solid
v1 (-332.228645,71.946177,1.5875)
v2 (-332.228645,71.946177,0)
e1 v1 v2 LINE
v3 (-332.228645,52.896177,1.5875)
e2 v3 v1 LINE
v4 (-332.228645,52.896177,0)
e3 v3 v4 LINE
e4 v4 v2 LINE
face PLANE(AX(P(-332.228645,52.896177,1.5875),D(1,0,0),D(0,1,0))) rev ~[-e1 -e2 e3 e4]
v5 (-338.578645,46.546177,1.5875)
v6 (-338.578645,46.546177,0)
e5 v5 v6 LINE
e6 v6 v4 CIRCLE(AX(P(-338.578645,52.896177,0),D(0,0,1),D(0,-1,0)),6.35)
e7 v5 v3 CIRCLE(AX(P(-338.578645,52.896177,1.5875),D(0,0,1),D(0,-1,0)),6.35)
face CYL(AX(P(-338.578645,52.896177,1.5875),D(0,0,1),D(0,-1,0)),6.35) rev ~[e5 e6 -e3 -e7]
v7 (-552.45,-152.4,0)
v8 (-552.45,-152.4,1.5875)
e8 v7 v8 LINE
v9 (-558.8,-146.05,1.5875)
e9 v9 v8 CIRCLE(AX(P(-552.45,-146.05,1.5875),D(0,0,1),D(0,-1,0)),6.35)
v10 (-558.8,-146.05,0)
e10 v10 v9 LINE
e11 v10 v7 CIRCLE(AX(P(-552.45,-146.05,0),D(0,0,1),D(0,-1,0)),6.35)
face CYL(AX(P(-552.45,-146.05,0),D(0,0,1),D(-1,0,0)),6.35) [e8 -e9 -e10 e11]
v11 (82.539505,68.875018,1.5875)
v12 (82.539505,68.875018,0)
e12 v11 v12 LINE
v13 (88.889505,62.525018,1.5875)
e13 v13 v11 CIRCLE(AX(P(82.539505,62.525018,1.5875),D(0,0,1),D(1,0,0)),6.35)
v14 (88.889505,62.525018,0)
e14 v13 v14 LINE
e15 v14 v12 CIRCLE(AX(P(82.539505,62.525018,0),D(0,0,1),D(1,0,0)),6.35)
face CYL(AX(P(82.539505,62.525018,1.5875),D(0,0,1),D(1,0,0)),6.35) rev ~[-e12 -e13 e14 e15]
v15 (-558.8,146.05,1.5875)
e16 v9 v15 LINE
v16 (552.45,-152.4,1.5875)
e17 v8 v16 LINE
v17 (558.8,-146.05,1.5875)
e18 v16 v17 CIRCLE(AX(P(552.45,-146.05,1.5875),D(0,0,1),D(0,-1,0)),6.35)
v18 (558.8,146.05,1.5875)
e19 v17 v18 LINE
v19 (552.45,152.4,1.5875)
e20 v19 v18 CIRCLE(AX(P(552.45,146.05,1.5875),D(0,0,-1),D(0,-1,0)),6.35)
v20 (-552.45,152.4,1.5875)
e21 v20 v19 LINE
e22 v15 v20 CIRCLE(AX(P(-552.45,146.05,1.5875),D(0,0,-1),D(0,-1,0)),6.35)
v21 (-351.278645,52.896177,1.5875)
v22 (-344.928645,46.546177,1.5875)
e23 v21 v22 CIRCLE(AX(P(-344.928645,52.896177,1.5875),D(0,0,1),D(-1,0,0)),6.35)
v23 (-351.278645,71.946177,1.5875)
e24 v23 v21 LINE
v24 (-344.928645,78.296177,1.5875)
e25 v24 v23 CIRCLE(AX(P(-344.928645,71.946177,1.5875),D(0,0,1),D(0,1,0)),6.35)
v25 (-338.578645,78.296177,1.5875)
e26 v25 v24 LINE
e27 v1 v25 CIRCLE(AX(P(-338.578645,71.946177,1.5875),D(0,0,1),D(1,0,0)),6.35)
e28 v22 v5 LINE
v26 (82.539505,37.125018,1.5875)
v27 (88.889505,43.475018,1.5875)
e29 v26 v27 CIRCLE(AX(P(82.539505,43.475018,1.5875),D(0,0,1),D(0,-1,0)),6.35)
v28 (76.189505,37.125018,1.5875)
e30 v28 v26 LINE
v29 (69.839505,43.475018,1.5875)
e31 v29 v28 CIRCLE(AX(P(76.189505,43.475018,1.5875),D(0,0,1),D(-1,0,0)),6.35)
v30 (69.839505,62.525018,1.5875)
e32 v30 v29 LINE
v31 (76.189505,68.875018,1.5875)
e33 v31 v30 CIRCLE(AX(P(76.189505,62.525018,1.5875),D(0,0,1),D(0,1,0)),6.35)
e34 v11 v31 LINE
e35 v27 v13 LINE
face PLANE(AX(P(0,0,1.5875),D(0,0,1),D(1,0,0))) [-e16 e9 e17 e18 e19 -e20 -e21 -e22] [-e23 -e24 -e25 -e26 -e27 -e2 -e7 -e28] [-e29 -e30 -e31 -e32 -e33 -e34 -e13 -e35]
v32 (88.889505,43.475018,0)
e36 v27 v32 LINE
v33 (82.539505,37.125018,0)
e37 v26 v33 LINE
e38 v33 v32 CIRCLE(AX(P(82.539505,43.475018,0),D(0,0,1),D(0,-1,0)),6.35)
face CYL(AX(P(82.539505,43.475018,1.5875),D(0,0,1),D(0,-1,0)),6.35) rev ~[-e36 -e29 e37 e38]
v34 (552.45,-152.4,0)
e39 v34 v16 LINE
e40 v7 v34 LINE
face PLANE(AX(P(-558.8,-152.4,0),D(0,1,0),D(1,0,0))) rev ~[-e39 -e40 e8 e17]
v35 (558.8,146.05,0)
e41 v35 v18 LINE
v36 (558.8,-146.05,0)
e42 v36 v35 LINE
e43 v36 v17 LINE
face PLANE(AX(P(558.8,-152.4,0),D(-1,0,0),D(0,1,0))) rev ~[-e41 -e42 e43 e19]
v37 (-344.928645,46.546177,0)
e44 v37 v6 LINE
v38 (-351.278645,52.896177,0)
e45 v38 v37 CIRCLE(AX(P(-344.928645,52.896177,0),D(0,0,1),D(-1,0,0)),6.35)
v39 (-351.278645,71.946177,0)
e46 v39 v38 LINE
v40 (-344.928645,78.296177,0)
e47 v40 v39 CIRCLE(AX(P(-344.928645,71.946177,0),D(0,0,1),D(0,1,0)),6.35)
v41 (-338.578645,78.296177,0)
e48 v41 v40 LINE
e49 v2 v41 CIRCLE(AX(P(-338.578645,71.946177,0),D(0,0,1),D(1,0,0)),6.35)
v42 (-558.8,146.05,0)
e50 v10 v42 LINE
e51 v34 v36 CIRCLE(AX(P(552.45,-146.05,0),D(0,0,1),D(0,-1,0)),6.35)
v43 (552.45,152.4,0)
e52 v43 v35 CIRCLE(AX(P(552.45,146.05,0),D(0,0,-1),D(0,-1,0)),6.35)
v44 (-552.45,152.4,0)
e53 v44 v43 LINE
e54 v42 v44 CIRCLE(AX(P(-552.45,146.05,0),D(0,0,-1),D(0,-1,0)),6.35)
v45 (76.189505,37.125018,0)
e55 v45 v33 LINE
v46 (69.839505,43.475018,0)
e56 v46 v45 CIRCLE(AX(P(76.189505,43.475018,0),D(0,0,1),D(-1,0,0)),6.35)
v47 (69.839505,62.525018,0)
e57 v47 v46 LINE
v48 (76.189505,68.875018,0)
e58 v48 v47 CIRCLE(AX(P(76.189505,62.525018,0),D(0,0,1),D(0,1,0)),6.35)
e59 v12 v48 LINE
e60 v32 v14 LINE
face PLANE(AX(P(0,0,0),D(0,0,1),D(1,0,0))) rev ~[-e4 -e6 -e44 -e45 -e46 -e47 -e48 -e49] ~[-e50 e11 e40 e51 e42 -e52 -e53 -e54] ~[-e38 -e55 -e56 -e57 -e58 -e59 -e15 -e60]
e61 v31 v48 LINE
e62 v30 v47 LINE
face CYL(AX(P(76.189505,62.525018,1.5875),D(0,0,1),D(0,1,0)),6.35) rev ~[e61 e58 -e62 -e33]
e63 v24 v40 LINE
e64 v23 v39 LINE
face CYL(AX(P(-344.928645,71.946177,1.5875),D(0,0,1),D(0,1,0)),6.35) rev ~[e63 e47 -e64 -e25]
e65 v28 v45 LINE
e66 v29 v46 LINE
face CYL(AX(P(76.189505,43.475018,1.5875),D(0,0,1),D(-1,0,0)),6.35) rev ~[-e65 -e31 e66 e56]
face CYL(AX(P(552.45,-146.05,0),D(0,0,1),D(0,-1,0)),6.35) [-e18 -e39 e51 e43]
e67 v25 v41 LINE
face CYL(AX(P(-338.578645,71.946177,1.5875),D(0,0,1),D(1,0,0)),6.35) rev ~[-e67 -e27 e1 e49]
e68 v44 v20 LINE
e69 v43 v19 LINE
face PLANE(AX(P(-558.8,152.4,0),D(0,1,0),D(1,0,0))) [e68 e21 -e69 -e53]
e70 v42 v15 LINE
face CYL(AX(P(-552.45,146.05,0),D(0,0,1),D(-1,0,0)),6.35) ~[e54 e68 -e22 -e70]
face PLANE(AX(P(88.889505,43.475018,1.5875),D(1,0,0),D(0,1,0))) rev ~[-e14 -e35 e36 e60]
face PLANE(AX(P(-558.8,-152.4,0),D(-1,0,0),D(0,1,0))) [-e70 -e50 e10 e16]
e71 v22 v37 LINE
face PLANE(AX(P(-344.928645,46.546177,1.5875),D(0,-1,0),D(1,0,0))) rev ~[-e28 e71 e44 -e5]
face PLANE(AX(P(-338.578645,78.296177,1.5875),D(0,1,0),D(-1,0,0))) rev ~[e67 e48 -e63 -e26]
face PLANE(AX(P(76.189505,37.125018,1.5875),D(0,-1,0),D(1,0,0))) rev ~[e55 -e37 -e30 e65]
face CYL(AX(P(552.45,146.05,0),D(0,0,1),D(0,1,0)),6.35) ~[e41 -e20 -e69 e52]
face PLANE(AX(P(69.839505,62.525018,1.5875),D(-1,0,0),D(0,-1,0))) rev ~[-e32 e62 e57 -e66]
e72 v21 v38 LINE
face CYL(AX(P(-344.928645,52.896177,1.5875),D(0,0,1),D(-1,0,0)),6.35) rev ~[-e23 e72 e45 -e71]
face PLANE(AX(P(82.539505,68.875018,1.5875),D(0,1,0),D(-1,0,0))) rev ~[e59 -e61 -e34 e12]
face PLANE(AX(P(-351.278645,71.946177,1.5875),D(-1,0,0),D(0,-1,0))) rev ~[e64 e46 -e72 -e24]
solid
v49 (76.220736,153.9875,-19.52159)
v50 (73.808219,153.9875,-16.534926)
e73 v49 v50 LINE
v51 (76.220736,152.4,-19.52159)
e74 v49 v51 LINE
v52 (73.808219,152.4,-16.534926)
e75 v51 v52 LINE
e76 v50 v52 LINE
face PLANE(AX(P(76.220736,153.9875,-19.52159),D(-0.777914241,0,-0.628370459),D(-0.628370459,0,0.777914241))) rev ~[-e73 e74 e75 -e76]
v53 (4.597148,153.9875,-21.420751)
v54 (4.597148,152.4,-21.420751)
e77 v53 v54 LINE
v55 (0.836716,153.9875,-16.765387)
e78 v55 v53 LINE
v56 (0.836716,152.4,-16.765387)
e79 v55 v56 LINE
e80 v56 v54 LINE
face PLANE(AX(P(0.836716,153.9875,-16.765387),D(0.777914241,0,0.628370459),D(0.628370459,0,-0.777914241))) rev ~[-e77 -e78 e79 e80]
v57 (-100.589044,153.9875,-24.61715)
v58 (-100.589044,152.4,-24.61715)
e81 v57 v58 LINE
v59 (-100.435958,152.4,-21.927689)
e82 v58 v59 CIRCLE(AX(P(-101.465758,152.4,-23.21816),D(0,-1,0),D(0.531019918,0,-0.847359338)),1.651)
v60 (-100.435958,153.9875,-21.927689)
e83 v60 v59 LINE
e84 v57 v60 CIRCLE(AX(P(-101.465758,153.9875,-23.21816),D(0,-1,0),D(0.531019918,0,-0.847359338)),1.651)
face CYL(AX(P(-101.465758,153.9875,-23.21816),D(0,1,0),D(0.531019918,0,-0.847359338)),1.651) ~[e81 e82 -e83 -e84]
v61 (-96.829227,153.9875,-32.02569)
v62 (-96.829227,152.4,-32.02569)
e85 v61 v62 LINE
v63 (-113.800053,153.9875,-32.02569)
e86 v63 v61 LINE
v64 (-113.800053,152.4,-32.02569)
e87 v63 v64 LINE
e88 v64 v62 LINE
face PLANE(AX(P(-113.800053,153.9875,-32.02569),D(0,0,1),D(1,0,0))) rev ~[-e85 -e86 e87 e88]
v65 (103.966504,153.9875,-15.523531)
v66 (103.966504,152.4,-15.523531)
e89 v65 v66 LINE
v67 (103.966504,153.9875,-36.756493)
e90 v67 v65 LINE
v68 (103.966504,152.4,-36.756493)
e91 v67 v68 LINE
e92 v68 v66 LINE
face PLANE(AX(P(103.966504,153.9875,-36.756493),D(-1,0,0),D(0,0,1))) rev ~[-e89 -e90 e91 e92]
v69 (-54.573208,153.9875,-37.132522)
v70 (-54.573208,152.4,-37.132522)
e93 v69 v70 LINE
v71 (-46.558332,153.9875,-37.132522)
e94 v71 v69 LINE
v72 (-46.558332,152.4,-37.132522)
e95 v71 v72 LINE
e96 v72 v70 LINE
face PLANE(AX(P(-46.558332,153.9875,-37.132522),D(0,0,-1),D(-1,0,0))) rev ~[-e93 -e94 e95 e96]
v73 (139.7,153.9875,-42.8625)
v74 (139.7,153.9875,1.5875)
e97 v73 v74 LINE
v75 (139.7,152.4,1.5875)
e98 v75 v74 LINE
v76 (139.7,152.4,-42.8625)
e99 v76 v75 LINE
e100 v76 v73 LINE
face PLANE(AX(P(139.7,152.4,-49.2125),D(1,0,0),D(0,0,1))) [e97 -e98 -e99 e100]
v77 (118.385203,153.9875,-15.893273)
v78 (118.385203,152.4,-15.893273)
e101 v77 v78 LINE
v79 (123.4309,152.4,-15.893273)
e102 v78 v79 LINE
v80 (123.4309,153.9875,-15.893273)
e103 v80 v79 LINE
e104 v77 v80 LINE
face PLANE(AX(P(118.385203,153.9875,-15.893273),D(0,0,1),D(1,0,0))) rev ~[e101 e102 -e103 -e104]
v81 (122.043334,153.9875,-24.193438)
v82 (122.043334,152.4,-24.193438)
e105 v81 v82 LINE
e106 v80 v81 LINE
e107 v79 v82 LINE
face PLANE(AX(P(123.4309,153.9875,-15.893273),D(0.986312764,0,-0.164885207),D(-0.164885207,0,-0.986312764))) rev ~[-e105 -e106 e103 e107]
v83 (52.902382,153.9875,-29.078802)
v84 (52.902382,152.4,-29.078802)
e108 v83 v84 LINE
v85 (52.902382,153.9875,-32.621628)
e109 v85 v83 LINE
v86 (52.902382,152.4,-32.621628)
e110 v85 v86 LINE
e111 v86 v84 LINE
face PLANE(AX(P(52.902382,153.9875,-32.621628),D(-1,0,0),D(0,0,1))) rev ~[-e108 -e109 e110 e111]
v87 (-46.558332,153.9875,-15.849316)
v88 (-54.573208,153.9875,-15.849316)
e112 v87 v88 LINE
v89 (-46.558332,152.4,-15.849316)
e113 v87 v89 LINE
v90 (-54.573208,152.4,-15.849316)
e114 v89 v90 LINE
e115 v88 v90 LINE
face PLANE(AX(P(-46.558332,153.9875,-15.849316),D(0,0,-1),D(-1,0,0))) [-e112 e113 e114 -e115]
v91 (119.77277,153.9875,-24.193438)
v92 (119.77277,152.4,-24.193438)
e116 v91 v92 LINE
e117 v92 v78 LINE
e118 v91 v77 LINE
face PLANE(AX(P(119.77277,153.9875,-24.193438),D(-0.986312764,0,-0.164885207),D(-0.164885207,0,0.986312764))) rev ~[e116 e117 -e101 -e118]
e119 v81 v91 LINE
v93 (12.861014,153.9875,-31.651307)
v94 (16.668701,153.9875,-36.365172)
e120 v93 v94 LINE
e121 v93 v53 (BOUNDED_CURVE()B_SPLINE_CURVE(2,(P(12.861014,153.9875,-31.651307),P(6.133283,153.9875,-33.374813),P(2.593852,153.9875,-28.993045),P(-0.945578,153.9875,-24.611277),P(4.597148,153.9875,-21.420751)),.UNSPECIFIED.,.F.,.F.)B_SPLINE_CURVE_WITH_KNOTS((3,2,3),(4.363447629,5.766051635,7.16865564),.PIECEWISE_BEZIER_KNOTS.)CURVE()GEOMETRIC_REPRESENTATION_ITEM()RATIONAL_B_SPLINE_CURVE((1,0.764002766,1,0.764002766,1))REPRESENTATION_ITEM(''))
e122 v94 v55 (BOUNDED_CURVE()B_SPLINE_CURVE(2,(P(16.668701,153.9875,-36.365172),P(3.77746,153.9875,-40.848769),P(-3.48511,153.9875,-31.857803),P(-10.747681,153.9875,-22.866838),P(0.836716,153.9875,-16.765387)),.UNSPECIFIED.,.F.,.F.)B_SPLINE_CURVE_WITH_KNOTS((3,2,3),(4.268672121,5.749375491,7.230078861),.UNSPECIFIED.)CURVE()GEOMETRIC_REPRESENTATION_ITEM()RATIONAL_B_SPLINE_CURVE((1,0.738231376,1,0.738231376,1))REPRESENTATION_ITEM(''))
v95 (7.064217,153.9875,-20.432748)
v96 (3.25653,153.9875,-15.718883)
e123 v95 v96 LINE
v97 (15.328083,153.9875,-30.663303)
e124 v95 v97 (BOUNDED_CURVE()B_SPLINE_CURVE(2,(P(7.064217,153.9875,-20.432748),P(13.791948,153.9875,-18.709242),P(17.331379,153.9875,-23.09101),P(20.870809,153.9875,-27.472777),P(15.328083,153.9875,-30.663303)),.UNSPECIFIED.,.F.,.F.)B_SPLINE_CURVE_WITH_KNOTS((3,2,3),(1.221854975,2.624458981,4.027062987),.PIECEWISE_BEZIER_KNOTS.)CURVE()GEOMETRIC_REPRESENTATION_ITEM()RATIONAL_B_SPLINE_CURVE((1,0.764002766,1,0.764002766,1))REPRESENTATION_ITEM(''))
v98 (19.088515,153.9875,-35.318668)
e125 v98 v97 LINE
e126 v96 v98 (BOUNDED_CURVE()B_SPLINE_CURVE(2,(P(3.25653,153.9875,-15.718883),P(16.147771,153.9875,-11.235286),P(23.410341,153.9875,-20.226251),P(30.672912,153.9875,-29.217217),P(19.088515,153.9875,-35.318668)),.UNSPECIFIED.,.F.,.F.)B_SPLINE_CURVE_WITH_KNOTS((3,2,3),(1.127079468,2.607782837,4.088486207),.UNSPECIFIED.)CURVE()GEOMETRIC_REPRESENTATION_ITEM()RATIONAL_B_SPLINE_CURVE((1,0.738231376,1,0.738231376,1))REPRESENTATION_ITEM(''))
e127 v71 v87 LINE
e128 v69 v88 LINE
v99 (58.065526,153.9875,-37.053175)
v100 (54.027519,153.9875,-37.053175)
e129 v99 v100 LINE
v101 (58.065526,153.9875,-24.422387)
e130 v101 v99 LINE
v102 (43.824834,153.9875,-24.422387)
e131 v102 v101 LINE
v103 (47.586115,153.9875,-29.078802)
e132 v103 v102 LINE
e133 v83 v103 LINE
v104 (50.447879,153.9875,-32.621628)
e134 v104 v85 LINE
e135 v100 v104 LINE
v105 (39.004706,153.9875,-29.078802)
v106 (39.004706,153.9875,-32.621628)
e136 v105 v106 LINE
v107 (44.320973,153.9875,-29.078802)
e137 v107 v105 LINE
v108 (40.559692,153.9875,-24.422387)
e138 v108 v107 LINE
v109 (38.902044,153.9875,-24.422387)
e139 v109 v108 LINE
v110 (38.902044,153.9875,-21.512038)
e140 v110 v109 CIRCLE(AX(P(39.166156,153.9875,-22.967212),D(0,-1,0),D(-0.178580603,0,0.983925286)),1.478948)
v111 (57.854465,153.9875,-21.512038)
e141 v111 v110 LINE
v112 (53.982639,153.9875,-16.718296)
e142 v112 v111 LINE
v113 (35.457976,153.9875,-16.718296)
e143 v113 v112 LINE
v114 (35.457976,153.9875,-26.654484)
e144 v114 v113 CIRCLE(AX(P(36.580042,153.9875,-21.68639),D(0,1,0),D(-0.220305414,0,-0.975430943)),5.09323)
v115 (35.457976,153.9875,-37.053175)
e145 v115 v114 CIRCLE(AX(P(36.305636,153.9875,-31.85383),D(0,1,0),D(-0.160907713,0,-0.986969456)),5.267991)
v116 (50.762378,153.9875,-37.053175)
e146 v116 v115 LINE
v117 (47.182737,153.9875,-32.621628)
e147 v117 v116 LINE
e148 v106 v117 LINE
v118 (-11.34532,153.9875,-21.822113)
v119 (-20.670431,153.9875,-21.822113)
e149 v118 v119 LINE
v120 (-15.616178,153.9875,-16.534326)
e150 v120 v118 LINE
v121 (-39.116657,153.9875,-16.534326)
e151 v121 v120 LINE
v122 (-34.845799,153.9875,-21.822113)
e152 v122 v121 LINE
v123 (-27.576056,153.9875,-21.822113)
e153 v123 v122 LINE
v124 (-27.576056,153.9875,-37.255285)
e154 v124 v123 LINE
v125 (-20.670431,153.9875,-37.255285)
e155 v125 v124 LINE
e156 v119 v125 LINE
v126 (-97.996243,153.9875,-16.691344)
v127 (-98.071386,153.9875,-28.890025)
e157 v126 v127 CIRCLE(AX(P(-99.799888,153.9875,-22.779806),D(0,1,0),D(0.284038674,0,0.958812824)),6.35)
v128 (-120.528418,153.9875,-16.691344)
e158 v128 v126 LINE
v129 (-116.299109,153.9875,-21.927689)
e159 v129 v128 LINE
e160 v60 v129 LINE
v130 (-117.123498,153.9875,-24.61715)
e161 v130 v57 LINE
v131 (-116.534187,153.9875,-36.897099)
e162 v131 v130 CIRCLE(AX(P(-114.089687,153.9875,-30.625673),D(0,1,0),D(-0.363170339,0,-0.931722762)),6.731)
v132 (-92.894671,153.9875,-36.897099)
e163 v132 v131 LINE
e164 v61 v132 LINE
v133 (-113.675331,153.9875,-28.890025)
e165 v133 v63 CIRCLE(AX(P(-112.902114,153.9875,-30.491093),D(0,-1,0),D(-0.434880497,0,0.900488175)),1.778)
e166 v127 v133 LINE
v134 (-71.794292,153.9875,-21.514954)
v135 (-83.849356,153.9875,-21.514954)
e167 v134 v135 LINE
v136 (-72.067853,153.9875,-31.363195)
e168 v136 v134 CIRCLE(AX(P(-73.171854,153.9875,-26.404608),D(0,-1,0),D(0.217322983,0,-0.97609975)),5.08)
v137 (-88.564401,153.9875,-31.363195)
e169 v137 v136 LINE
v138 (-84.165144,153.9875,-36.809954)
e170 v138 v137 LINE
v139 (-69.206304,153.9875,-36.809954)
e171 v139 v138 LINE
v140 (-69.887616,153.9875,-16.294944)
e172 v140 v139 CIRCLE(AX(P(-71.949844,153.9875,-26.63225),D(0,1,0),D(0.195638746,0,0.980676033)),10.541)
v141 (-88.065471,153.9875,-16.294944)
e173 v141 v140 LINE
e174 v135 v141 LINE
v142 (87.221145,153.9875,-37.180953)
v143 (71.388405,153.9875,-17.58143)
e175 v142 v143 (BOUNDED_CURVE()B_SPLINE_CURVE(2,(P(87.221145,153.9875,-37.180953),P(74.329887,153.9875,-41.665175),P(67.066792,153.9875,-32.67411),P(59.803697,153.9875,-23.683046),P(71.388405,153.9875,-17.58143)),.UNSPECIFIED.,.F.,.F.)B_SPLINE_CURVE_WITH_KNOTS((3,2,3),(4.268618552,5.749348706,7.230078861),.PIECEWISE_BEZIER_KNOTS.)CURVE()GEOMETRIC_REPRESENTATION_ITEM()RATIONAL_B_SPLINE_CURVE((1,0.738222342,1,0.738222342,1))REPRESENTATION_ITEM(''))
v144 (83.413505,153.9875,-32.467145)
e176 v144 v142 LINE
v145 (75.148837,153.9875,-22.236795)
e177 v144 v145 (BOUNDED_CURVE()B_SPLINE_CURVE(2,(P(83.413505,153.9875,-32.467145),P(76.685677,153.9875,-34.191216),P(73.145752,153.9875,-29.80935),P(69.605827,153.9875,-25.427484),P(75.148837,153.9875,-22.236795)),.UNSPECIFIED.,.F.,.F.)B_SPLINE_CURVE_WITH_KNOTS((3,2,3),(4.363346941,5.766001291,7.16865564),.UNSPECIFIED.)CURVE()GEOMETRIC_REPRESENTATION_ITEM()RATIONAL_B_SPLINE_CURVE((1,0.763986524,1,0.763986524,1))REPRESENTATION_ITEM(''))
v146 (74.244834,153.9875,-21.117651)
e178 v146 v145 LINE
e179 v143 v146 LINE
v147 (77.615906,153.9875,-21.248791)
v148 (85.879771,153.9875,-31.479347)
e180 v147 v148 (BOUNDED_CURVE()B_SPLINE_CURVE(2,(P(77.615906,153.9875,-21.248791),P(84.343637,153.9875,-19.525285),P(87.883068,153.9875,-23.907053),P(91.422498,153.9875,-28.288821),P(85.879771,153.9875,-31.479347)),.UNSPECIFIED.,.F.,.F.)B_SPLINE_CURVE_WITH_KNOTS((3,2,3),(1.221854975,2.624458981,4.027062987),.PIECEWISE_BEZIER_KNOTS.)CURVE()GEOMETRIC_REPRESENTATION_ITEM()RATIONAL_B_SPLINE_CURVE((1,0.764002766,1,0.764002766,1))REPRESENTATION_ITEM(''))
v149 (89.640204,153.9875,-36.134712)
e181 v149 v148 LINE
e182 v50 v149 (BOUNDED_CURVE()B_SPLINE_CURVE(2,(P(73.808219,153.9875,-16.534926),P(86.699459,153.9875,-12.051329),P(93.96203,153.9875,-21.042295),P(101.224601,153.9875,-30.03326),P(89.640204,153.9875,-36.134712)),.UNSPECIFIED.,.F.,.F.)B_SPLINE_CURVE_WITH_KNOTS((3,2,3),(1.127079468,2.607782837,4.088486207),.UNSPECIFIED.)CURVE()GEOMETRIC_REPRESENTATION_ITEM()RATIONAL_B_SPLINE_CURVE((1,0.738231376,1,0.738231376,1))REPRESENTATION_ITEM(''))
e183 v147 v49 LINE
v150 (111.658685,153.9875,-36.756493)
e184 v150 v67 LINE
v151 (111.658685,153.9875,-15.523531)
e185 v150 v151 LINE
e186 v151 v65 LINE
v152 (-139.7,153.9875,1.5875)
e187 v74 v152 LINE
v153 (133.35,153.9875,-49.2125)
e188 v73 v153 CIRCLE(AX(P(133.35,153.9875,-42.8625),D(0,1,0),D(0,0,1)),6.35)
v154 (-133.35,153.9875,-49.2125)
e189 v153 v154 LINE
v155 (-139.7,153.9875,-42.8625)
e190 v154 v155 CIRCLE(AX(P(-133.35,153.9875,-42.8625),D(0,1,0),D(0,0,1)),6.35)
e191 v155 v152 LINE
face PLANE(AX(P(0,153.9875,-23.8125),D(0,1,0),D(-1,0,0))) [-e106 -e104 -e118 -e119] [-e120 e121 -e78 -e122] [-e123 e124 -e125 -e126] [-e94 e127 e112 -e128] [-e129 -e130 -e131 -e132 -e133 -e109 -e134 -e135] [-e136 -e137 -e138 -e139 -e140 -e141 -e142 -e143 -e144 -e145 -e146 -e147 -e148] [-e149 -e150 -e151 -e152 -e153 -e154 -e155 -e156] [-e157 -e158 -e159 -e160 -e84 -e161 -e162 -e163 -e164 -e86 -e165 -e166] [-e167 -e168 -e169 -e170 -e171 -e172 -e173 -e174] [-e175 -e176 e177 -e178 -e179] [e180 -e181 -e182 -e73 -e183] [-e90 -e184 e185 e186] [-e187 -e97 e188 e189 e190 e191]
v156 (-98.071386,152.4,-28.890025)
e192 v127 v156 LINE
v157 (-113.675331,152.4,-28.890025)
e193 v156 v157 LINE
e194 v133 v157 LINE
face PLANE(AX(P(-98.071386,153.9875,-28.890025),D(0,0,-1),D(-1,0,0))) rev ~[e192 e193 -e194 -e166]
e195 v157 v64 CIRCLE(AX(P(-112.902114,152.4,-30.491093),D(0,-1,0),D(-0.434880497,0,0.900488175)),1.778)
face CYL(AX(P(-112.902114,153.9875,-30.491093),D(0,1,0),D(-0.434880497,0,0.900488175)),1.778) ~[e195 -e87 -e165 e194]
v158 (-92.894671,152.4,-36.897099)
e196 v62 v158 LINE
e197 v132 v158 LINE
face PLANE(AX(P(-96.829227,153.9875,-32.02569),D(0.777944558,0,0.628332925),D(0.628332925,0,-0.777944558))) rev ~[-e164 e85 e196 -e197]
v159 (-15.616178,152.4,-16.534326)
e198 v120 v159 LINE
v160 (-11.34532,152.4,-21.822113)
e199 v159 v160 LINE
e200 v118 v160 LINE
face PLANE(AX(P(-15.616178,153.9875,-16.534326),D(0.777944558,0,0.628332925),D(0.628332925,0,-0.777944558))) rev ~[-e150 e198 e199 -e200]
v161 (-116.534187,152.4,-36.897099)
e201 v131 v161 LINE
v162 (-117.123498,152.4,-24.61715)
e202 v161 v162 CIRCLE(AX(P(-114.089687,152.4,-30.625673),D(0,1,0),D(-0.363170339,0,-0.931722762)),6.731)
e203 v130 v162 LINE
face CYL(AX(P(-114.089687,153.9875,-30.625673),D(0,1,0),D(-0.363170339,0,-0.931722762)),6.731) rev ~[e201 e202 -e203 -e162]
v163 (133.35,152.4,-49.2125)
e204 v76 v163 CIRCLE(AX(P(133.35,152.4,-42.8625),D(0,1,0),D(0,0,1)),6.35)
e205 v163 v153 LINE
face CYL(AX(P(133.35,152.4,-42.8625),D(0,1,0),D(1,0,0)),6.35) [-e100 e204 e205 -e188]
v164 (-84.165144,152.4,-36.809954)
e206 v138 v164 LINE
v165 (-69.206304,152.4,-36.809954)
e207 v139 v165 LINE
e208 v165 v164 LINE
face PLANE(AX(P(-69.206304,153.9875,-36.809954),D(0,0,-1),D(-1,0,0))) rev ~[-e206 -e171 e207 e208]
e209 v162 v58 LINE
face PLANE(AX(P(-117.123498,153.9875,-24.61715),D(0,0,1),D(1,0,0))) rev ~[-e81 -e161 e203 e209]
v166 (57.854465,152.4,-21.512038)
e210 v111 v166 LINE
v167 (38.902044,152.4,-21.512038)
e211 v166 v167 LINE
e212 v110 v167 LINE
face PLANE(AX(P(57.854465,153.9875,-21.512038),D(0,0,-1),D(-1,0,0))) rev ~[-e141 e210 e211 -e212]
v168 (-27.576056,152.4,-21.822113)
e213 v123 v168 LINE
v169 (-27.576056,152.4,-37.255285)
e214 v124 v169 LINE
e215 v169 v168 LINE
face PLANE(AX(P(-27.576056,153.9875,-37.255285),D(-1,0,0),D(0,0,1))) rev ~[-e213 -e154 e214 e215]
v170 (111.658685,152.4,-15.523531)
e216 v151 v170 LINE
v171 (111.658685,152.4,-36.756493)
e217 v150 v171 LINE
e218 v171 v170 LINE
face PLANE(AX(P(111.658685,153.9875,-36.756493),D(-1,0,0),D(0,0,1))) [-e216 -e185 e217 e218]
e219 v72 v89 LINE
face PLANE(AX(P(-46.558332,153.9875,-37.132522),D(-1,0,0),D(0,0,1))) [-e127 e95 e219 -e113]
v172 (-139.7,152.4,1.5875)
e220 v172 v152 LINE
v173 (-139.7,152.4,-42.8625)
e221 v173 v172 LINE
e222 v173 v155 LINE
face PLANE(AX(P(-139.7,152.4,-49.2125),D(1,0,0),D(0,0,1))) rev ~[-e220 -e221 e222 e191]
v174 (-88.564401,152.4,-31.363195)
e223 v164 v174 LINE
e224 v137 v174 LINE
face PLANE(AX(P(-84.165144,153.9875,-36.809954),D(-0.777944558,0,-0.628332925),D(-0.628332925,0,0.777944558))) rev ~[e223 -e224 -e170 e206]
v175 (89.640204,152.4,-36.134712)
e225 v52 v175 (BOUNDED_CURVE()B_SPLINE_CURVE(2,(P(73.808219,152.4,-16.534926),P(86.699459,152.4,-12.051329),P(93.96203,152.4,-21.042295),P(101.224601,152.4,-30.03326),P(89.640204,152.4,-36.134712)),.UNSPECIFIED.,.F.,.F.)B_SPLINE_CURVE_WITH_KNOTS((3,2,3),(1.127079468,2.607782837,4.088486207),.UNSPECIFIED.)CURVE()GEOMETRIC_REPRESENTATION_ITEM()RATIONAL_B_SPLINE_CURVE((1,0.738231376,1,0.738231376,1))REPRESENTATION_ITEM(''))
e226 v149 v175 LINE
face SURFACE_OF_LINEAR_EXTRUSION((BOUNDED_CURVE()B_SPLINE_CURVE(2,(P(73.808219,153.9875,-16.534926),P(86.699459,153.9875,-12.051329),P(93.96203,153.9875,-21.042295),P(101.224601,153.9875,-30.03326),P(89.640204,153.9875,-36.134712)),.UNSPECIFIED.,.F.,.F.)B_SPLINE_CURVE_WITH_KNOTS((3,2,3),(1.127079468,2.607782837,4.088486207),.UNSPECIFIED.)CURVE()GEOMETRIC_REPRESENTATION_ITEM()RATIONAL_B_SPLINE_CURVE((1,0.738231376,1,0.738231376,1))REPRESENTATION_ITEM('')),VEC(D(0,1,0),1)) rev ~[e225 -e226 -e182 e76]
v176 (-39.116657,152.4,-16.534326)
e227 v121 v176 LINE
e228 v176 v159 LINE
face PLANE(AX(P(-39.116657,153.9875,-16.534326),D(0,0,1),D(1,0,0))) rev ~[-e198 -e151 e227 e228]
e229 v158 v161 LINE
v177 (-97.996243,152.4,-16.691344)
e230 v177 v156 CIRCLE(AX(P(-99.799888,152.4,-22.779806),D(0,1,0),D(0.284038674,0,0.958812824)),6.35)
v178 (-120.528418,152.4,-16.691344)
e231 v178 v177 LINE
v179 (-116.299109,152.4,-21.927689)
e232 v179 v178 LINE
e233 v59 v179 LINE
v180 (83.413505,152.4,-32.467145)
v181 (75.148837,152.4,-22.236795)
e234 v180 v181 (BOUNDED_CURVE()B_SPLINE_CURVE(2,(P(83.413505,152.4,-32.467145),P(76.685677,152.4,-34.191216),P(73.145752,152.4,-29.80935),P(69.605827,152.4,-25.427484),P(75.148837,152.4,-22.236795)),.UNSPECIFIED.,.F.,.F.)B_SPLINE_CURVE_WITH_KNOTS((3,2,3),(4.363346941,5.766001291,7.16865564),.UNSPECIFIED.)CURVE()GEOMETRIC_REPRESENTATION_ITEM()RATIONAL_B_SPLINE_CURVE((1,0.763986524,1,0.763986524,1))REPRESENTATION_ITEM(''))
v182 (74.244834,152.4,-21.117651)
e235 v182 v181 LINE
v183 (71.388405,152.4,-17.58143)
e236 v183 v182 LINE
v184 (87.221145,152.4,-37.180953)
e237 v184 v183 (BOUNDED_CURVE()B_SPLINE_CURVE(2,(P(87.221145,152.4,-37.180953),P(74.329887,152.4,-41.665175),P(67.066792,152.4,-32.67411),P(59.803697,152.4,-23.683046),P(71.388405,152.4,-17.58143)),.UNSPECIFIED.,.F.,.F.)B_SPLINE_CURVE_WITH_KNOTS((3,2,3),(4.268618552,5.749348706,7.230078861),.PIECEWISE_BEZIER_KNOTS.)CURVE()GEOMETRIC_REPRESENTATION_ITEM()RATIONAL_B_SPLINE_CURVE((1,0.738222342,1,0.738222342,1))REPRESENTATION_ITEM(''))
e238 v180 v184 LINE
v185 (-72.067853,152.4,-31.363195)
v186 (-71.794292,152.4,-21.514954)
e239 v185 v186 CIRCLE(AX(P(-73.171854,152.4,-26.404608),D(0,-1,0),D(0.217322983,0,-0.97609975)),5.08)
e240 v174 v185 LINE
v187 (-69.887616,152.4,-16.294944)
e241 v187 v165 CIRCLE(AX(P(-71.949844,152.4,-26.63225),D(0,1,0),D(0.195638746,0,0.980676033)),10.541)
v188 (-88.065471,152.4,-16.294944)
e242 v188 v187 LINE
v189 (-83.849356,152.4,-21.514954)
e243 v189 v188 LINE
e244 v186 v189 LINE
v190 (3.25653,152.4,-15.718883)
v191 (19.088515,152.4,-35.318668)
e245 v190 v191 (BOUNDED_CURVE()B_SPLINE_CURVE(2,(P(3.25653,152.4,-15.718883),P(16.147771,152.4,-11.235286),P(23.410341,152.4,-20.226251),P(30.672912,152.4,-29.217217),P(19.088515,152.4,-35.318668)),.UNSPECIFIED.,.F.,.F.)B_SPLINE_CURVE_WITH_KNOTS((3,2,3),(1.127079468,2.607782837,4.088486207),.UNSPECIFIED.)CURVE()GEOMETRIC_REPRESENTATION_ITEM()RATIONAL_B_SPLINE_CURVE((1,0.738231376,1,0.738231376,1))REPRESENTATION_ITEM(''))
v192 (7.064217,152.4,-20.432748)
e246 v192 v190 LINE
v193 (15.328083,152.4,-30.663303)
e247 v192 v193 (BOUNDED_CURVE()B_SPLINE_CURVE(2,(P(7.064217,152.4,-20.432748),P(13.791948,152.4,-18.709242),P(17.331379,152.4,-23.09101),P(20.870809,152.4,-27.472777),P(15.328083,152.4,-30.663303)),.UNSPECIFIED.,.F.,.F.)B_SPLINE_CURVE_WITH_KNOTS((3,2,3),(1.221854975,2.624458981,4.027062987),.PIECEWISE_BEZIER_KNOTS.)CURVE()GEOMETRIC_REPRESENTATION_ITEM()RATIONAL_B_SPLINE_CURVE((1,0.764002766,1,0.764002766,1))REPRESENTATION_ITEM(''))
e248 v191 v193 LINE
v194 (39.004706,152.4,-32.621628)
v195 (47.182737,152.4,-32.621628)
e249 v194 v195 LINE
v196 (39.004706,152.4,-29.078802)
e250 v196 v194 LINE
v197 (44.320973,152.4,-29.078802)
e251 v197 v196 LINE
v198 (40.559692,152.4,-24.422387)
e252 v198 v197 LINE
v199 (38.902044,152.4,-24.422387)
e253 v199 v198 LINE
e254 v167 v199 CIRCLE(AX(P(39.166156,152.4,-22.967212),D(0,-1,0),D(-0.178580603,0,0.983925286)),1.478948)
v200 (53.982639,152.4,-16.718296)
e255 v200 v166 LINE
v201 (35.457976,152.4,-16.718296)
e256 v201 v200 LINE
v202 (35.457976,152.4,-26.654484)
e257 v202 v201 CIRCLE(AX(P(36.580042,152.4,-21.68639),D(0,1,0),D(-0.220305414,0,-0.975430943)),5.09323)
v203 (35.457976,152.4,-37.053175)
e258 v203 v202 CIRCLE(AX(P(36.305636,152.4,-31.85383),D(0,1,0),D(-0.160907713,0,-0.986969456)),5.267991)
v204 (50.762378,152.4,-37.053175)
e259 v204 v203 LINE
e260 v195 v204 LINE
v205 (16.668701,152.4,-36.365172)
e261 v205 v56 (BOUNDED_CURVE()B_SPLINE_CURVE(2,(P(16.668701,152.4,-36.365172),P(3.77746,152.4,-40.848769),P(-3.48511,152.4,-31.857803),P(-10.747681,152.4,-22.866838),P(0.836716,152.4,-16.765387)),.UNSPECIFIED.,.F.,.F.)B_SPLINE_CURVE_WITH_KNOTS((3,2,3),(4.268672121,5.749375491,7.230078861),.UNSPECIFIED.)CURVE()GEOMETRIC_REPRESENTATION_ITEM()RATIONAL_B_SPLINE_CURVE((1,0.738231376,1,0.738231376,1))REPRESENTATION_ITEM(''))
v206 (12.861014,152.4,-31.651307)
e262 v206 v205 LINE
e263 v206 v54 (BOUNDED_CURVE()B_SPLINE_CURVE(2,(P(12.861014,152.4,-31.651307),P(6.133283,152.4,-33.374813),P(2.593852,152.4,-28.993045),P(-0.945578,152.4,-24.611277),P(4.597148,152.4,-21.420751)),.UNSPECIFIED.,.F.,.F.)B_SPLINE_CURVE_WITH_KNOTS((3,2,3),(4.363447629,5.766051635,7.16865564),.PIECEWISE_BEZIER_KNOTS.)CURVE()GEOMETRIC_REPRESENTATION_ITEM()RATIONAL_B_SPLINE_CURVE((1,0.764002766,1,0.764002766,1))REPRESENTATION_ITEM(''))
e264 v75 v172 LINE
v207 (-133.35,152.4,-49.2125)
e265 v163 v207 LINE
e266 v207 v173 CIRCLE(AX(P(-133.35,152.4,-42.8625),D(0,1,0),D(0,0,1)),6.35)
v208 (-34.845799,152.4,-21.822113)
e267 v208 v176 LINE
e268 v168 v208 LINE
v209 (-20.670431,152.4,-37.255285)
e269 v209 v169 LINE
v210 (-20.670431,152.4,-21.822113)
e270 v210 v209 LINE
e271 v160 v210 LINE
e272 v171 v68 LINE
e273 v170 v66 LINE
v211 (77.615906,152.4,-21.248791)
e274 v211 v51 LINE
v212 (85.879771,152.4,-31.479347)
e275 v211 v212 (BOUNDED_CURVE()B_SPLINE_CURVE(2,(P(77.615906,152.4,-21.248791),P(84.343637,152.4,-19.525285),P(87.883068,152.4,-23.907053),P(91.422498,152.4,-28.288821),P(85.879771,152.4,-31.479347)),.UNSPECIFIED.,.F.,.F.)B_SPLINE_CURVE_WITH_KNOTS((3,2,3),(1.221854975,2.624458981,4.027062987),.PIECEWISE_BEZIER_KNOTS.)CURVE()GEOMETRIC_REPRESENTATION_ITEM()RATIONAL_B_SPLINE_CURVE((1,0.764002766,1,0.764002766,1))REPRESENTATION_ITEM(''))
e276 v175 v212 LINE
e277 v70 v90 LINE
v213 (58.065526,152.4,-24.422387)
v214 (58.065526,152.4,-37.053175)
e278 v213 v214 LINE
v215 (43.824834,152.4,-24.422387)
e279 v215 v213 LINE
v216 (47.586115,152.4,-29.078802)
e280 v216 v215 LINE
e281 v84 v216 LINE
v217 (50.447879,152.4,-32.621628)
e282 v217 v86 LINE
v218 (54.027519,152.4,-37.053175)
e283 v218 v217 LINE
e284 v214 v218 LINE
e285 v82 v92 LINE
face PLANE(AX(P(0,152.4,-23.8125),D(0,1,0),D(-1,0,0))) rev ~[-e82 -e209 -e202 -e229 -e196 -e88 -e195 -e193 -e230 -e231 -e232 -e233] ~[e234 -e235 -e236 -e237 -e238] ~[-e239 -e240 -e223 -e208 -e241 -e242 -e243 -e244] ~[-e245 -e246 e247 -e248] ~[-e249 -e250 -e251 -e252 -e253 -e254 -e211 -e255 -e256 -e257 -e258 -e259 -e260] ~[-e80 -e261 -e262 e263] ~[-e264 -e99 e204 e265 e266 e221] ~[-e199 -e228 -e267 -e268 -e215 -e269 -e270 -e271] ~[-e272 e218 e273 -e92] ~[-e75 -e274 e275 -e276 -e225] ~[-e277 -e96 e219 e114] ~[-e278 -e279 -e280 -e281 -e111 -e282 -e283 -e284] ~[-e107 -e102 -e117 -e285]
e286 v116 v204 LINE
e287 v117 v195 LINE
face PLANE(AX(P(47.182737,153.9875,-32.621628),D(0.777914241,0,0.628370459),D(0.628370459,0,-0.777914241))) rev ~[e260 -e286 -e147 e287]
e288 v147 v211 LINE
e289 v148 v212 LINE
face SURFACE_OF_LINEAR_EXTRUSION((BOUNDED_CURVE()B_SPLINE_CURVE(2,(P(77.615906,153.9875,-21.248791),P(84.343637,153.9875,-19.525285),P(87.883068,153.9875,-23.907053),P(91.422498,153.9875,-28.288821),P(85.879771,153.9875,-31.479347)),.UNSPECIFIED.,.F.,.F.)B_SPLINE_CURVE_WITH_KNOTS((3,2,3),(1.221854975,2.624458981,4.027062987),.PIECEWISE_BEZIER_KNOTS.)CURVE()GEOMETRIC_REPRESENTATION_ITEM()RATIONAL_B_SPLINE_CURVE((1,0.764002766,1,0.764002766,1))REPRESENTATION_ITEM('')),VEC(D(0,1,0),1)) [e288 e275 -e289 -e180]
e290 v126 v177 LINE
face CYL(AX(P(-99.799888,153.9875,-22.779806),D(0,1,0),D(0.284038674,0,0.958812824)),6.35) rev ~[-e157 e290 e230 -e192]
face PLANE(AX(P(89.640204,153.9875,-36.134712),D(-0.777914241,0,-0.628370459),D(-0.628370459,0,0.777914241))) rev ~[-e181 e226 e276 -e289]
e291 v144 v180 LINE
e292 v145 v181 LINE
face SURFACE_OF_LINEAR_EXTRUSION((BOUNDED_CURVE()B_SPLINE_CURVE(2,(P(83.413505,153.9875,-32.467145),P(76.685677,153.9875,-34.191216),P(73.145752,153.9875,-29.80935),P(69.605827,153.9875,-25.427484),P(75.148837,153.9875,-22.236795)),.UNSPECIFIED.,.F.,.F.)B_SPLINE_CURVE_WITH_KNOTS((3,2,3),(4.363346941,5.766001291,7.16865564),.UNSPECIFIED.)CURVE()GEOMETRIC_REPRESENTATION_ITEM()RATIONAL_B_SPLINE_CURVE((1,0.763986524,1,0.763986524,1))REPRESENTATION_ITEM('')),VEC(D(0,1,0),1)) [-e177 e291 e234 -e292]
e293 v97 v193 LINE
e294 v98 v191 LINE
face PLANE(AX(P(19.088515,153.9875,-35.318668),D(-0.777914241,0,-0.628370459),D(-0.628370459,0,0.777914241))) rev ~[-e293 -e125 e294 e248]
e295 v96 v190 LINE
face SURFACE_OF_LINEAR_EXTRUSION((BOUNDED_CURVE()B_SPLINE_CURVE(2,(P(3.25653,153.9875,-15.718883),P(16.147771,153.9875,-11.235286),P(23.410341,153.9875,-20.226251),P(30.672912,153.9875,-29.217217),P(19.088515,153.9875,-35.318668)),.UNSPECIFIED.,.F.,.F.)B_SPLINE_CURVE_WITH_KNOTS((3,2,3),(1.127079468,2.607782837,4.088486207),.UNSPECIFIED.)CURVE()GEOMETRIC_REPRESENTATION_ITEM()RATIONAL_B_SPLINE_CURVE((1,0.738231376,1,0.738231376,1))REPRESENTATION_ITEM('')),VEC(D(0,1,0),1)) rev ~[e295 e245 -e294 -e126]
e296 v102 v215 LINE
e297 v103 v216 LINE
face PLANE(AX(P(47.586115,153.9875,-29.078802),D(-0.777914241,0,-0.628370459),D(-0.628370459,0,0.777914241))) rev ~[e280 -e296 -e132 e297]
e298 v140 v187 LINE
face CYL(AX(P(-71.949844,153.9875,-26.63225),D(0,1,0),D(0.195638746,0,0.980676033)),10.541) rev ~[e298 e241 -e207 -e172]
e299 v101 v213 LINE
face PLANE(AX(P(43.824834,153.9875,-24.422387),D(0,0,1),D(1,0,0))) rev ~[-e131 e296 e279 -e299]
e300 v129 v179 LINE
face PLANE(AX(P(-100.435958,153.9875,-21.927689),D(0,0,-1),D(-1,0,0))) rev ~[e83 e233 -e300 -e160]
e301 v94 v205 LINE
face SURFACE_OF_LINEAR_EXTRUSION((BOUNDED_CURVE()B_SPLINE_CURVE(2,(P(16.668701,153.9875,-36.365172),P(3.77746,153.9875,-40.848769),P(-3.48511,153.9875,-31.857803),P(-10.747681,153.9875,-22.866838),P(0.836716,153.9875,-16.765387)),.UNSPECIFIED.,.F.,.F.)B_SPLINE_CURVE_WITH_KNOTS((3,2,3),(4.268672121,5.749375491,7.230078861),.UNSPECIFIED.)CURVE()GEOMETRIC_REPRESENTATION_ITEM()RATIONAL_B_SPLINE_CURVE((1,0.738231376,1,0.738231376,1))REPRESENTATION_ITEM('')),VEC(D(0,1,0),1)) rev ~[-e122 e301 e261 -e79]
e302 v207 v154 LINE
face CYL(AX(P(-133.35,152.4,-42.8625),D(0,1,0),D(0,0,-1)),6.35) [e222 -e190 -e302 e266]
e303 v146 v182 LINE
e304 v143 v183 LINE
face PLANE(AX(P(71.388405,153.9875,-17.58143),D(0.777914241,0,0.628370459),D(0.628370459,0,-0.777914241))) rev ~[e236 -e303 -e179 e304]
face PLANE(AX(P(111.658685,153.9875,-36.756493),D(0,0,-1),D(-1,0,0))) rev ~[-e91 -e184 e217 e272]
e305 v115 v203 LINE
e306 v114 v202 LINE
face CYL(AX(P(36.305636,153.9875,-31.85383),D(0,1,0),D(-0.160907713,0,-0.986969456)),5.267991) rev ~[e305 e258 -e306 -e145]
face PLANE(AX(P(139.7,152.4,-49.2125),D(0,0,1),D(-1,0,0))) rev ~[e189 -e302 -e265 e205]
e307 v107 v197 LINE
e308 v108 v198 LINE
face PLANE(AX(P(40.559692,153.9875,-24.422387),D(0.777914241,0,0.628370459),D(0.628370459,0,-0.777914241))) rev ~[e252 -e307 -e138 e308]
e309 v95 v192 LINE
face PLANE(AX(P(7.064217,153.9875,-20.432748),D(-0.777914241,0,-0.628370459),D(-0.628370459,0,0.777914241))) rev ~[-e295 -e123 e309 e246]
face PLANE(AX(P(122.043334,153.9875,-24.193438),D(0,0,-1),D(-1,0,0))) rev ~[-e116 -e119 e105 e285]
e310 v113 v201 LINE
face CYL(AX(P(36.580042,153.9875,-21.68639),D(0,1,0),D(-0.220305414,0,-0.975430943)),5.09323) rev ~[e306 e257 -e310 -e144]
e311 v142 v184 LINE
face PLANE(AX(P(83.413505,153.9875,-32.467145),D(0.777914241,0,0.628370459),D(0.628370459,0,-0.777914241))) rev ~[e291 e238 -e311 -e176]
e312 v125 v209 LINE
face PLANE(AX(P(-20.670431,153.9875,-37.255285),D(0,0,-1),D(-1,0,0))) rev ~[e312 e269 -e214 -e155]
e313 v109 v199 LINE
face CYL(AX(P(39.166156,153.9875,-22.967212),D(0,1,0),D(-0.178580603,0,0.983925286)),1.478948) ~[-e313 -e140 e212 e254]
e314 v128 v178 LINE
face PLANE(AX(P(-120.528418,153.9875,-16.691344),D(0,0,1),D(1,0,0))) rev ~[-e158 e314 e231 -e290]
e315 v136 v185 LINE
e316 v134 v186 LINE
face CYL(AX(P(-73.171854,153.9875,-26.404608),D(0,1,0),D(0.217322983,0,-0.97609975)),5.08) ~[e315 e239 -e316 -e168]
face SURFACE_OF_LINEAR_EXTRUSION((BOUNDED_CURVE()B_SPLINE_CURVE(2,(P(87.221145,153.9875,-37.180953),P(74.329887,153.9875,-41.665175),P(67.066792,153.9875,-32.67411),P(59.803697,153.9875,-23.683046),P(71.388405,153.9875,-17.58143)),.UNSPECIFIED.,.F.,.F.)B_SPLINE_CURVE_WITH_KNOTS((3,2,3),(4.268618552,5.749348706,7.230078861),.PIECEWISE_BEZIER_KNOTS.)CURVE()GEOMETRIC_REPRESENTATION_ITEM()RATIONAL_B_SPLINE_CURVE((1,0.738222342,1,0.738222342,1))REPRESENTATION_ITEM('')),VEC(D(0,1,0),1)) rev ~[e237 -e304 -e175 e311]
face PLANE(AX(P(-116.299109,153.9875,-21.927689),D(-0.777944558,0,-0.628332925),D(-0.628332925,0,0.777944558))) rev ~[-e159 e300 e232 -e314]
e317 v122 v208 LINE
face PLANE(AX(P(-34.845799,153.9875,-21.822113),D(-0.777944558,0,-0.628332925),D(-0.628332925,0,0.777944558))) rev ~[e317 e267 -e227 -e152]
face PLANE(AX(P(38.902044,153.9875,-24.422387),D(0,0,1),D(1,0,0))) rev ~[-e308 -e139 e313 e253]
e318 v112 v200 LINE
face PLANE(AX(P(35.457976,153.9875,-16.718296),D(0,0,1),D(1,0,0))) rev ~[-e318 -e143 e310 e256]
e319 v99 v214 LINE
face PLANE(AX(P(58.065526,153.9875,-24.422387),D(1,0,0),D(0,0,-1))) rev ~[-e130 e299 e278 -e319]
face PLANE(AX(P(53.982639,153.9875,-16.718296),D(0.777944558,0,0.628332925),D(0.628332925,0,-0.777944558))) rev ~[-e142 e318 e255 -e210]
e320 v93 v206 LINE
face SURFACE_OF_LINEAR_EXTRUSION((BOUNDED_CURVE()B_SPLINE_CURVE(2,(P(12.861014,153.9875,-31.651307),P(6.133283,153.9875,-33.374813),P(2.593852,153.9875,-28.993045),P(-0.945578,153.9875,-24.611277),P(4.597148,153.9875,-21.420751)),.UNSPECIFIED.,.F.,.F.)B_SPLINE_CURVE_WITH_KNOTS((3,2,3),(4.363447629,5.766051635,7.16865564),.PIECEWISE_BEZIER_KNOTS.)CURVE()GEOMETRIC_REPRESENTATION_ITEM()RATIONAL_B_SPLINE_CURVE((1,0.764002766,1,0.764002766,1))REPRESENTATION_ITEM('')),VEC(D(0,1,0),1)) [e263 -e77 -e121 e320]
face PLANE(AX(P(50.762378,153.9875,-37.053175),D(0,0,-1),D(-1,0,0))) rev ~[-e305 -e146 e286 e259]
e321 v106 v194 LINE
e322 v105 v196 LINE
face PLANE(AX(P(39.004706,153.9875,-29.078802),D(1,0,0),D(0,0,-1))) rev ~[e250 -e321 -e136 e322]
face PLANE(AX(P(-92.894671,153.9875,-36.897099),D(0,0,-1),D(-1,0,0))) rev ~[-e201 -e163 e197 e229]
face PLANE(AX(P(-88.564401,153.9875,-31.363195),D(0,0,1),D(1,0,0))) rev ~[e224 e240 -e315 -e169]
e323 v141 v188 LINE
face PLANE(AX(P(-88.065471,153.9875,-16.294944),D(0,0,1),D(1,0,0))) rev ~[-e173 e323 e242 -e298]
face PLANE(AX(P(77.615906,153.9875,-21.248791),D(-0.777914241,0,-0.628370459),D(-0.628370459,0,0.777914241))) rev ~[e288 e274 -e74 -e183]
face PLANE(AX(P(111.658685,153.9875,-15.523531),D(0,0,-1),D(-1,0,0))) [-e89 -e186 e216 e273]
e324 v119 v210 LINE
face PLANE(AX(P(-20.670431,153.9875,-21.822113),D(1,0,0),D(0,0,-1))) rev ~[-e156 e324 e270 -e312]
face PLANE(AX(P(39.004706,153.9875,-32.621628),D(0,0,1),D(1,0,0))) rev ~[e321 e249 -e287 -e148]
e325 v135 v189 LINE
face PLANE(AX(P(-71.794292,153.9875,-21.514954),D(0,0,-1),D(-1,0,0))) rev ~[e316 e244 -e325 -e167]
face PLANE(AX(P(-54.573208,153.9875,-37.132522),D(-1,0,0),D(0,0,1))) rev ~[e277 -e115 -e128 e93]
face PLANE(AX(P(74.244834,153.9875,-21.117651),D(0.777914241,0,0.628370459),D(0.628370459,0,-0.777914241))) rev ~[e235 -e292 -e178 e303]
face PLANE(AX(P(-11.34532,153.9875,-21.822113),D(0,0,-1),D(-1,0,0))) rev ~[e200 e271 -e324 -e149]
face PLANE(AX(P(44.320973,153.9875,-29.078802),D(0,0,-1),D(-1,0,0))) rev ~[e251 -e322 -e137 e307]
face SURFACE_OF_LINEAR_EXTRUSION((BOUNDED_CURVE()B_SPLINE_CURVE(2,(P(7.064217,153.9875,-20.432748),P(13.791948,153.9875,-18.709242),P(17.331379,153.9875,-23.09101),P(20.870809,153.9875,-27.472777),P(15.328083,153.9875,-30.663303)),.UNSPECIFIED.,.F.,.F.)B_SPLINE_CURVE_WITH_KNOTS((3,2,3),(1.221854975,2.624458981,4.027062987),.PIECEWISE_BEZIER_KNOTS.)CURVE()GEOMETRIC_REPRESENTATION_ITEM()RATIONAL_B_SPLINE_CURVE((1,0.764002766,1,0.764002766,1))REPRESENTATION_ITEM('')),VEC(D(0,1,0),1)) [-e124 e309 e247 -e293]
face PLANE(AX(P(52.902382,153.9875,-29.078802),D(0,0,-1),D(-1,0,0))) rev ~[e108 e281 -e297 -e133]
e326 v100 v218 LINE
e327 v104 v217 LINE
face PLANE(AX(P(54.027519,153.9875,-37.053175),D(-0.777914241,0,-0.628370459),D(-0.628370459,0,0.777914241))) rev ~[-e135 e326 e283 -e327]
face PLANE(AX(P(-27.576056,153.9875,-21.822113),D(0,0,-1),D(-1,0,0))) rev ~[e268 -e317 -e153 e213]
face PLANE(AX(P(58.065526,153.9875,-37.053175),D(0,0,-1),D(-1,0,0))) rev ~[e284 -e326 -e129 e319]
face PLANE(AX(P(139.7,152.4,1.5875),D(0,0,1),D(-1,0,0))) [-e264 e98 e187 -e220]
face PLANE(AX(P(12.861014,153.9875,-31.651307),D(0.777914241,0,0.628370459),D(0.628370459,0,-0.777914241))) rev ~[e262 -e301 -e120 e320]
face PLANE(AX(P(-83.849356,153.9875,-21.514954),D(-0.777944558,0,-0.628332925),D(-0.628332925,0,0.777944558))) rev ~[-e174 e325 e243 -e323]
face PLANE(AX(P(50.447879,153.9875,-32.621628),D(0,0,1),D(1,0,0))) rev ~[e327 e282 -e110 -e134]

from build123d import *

# Parameters (mm, degrees)
F0_W     = 1117.6
F0_H     = 304.8
F1_DEPTH = 1.5875
F4_DEPTH = 1.5875
F5_W     = 279.4
F5_H     = 50.8
F6_DEPTH = 1.5875
F7_W     = 7.6921805739
F7_H     = 21.2329626083
F7_W_2   = 8.0148763955
F7_H_2   = 21.2832065299
F8_DEPTH = 1.5875
F9_R     = 6.35
F10_R    = 6.35


with BuildPart() as f1:
    # F0 (on Top) → F1 (new body)
    with BuildSketch(Plane.XY):
        Rectangle(F0_W, F0_H)
    extrude(amount=F1_DEPTH)

    # F3 (on face) → F4 (cut, through all)
    with BuildSketch(Plane.XY.offset(1.5875)):
        with BuildLine():
            ThreePointArc((-332.2286445189, 71.9461765826), (-334.0885164583, 76.4363046431), (-338.5786445189, 78.2961765826))
            Line((-338.5786445189, 78.2961765826), (-344.9286445189, 78.2961765826))
            ThreePointArc((-344.9286445189, 78.2961765826), (-349.4187725794, 76.4363046431), (-351.2786445189, 71.9461765826))
            Line((-351.2786445189, 71.9461765826), (-351.2786445189, 52.8961765826))
            ThreePointArc((-351.2786445189, 52.8961765826), (-349.4187725794, 48.406048522), (-344.9286445189, 46.5461765826))
            Line((-344.9286445189, 46.5461765826), (-338.5786445189, 46.5461765826))
            ThreePointArc((-338.5786445189, 46.5461765826), (-334.0885164583, 48.406048522), (-332.2286445189, 52.8961765826))
            Line((-332.2286445189, 52.8961765826), (-332.2286445189, 71.9461765826))
        make_face()
        with BuildLine():
            ThreePointArc((88.8895047712, 62.5250180006), (87.0296328318, 67.0151460611), (82.5395047712, 68.8750180006))
            Line((82.5395047712, 68.8750180006), (76.1895047712, 68.8750180006))
            ThreePointArc((76.1895047712, 68.8750180006), (71.6993767107, 67.0151460611), (69.8395047712, 62.5250180006))
            Line((69.8395047712, 62.5250180006), (69.8395047712, 43.4750180006))
            ThreePointArc((69.8395047712, 43.4750180006), (71.6993767107, 38.9848899401), (76.1895047712, 37.1250180006))
            Line((76.1895047712, 37.1250180006), (82.5395047712, 37.1250180006))
            ThreePointArc((82.5395047712, 37.1250180006), (87.0296328318, 38.9848899401), (88.8895047712, 43.4750180006))
            Line((88.8895047712, 43.4750180006), (88.8895047712, 62.5250180006))
        make_face()
    extrude(amount=-F4_DEPTH, mode=Mode.SUBTRACT)

    # F9
    f9_edges = [f1.edges().sort_by_distance(p)[0] for p in [
        (-558.8, 152.4, 0.79375),
        (-558.8, -152.4, 0.79375),
        (558.8, -152.4, 0.79375),
        (558.8, 152.4, 0.79375),
    ]]
    fillet(f9_edges, radius=F9_R)


with BuildPart() as f6:
    # F5 (on face) → F6 (new body)
    with BuildSketch(Plane(origin=(0, 152.4, 0), x_dir=(-1, 0, 0), z_dir=(0, 1, 0))):
        with Locations((0, -23.8125)):
            Rectangle(F5_W, F5_H)
    extrude(amount=F6_DEPTH)

    # F7 (on face) → F8 (cut, through all)
    with BuildSketch(Plane(origin=(0, 153.9875, 0), x_dir=(-1, 0, 0), z_dir=(0, 1, 0))):
        with Locations((-107.8125946224, -26.140011847)):
            Rectangle(F7_W, F7_H)
        with Locations((50.5657698959, -26.4909188263)):
            Rectangle(F7_W_2, F7_H_2)
        Polygon((15.6161780773, -16.5343257309), (11.345320064, -21.8221128576), (20.6704313489, -21.8221128576), (20.6704313489, -37.2552846216), (27.5760559918, -37.2552846216), (27.5760559918, -21.8221128576), (34.8457988905, -21.8221128576), (39.1166569037, -16.5343257309), align=None)
        with BuildLine():
            ThreePointArc((72.0678533702, -31.3631950064), (68.0938128502, -26.5456644123), (71.7942922101, -21.5149535692))
            Line((71.7942922101, -21.5149535692), (83.8493555784, -21.5149535692))
            Line((83.8493555784, -21.5149535692), (88.0654709206, -16.2949438283))
            Line((88.0654709206, -16.2949438283), (69.8876163302, -16.2949438283))
            ThreePointArc((69.8876163302, -16.2949438283), (61.4146525621, -26.2823715543), (69.2063038489, -36.8099542694))
            Line((69.2063038489, -36.8099542694), (84.1651437122, -36.8099542694))
            Line((84.1651437122, -36.8099542694), (88.5644008848, -31.3631950064))
            Line((88.5644008848, -31.3631950064), (72.0678533702, -31.3631950064))
        make_face()
        with BuildLine():
            Line((100.4359583746, -21.9276892464), (116.2991094271, -21.9276892464))
            Line((116.2991094271, -21.9276892464), (120.5284183432, -16.6913444247))
            Line((120.5284183432, -16.6913444247), (97.9962427114, -16.6913444247))
            ThreePointArc((97.9962427114, -16.6913444247), (93.4500087631, -22.8189209197), (98.071386208, -28.8900252118))
            Line((98.071386208, -28.8900252118), (113.6753311597, -28.8900252118))
            ThreePointArc((113.6753311597, -28.8900252118), (114.6787088324, -30.4204284293), (113.8000534429, -32.0256902361))
            Line((113.8000534429, -32.0256902361), (96.8292273228, -32.0256902361))
            Line((96.8292273228, -32.0256902361), (92.894671083, -36.897099159))
            Line((92.894671083, -36.897099159), (116.5341868674, -36.897099159))
            ThreePointArc((116.5341868674, -36.897099159), (120.81294988, -30.948320822), (117.1234983419, -24.6171500007))
            Line((117.1234983419, -24.6171500007), (100.5890439474, -24.6171500007))
            ThreePointArc((100.5890439474, -24.6171500007), (99.817425927, -23.3119836849), (100.4359583746, -21.9276892464))
        make_face()
        Polygon((-118.3852031827, -15.8932730556), (-123.4309002757, -15.8932730556), (-122.0433339477, -24.19343777), (-119.7727695107, -24.19343777), align=None)
        with BuildLine():
            Line((-77.6159058593, -21.2487914891), (-76.2207364111, -19.5215903332))
            Line((-76.2207364111, -19.5215903332), (-73.808219203, -16.5349262289))
            add(Edge.make_bspline(
                [(-73.808219203, -16.5349262289), (-86.6994594435, -12.0513294505), (-93.9620299727, -21.0422948339), (-101.2246005019, -30.0332602173), (-89.6402036123, -36.1347116218)],
                knots=[1.1270794679, 1.1270794679, 1.1270794679, 2.6077828375, 2.6077828375, 4.0884862072, 4.0884862072, 4.0884862072], degree=2, weights=[1, 0.7382313762, 1, 0.7382313762, 1]))
            Line((-89.6402036123, -36.1347116218), (-85.8797714716, -31.4793468212))
            add(Edge.make_bspline(
                [(-77.6159058593, -21.2487914891), (-84.343637189, -19.5252853377), (-87.8830677218, -23.9070530974), (-91.4224982546, -28.2888208571), (-85.8797714716, -31.4793468212)],
                knots=[1.221854975, 1.221854975, 1.221854975, 2.6244589809, 2.6244589809, 4.0270629868, 4.0270629868, 4.0270629868], degree=2, weights=[1, 0.7640027659, 1, 0.7640027659, 1]))
        make_face()
        with BuildLine():
            add(Edge.make_bspline(
                [(-83.4135049225, -32.4671447272), (-76.6856765422, -34.1912158775), (-73.1457519624, -29.8093498385), (-69.6058273825, -25.4274837995), (-75.1488372082, -22.2367949093)],
                knots=[4.3633469407, 4.3633469407, 4.3633469407, 5.7660012905, 5.7660012905, 7.1686556404, 7.1686556404, 7.1686556404], degree=2, weights=[1, 0.7639865244, 1, 0.7639865244, 1]))
            Line((-83.4135049225, -32.4671447272), (-87.2211452444, -37.1809526261))
            add(Edge.make_bspline(
                [(-87.2211452444, -37.1809526261), (-74.3298865837, -41.665175297), (-67.0667916039, -32.6741104521), (-59.8036966241, -23.6830456072), (-71.3884050675, -17.5814301087)],
                knots=[4.2686185518, 4.2686185518, 4.2686185518, 5.7493487063, 5.7493487063, 7.2300788608, 7.2300788608, 7.2300788608], degree=2, weights=[1, 0.7382223424, 1, 0.7382223424, 1]))
            Line((-71.3884050675, -17.5814301087), (-74.2448342385, -21.1176512983))
            Line((-74.2448342385, -21.1176512983), (-75.1488372082, -22.2367949093))
        make_face()
        with BuildLine():
            add(Edge.make_bspline(
                [(-12.8610140376, -31.6513067751), (-6.1332827079, -33.3748129265), (-2.5938521751, -28.9930451668), (0.9455783577, -24.6112774071), (-4.5971484253, -21.420751443)],
                knots=[4.3634476286, 4.3634476286, 4.3634476286, 5.7660516345, 5.7660516345, 7.1686556404, 7.1686556404, 7.1686556404], degree=2, weights=[1, 0.7640027659, 1, 0.7640027659, 1]))
            Line((-12.8610140376, -31.6513067751), (-16.6687006939, -36.3651720353))
            add(Edge.make_bspline(
                [(-16.6687006939, -36.3651720353), (-3.7774604534, -40.8487688137), (3.4851100758, -31.8578034303), (10.747680605, -22.8668380469), (-0.8367162846, -16.7653866424)],
                knots=[4.2686721215, 4.2686721215, 4.2686721215, 5.7493754911, 5.7493754911, 7.2300788608, 7.2300788608, 7.2300788608], degree=2, weights=[1, 0.7382313762, 1, 0.7382313762, 1]))
            Line((-0.8367162846, -16.7653866424), (-4.5971484253, -21.420751443))
        make_face()
        with BuildLine():
            add(Edge.make_bspline(
                [(-7.0642170764, -20.4327480228), (-13.7919484061, -18.7092418714), (-17.3313789389, -23.0910096311), (-20.8708094718, -27.4727773908), (-15.3280826887, -30.6633033549)],
                knots=[1.221854975, 1.221854975, 1.221854975, 2.6244589809, 2.6244589809, 4.0270629868, 4.0270629868, 4.0270629868], degree=2, weights=[1, 0.7640027659, 1, 0.7640027659, 1]))
            Line((-7.0642170764, -20.4327480228), (-3.2565304201, -15.7188827626))
            add(Edge.make_bspline(
                [(-3.2565304201, -15.7188827626), (-16.1477706606, -11.2352859842), (-23.4103411899, -20.2262513676), (-30.6729117191, -29.217216751), (-19.0885148294, -35.3186681555)],
                knots=[1.1270794679, 1.1270794679, 1.1270794679, 2.6077828375, 2.6077828375, 4.0884862072, 4.0884862072, 4.0884862072], degree=2, weights=[1, 0.7382313762, 1, 0.7382313762, 1]))
            Line((-19.0885148294, -35.3186681555), (-15.3280826887, -30.6633033549))
        make_face()
        Polygon((-43.8248337577, -24.4223866612), (-58.0655261874, -24.4223866612), (-58.0655261874, -37.0531752706), (-54.0275193653, -37.0531752706), (-50.4478785142, -32.6216276735), (-52.9023818672, -32.6216276735), (-52.9023818672, -29.0788020939), (-47.5861145603, -29.0788020939), align=None)
        with BuildLine():
            Line((-39.0047058463, -29.0788020939), (-39.0047058463, -32.6216276735))
            ThreePointArc((-39.0047058463, -32.6216276735), (-37.8005066226, -30.8502148837), (-39.0047058463, -29.0788020939))
        make_face()
        with BuildLine():
            ThreePointArc((-39.0047058463, -29.0788020939), (-37.8005066226, -30.8502148837), (-39.0047058463, -32.6216276735))
            Line((-39.0047058463, -32.6216276735), (-47.1827371071, -32.6216276735))
            Line((-47.1827371071, -32.6216276735), (-50.7623779582, -37.0531752706))
            Line((-50.7623779582, -37.0531752706), (-38.9020442963, -37.0531752706))
            Line((-38.9020442963, -37.0531752706), (-35.4579761624, -37.0531752706))
            ThreePointArc((-35.4579761624, -37.0531752706), (-31.0376459329, -31.8538295105), (-35.4579761624, -26.6544837505))
            ThreePointArc((-35.4579761624, -26.6544837505), (-31.486812653, -21.6863900423), (-35.4579761624, -16.7182963341))
            Line((-35.4579761624, -16.7182963341), (-53.9826392531, -16.7182963341))
            Line((-53.9826392531, -16.7182963341), (-57.8544649968, -21.5120380744))
            Line((-57.8544649968, -21.5120380744), (-38.9020442963, -21.5120380744))
            ThreePointArc((-38.9020442963, -21.5120380744), (-37.687207755, -22.9672123678), (-38.9020442963, -24.4223866612))
            Line((-38.9020442963, -24.4223866612), (-40.5596923506, -24.4223866612))
            Line((-40.5596923506, -24.4223866612), (-44.3209731532, -29.0788020939))
            Line((-44.3209731532, -29.0788020939), (-39.0047058463, -29.0788020939))
        make_face()
    extrude(amount=-F8_DEPTH, mode=Mode.SUBTRACT)

    # F10
    f10_edges = [f6.edges().sort_by_distance(p)[0] for p in [
        (-139.7, 153.19375, -49.2125),
        (139.7, 153.19375, -49.2125),
    ]]
    fillet(f10_edges, radius=F10_R)


solid = Compound([f1.part, f6.part])
